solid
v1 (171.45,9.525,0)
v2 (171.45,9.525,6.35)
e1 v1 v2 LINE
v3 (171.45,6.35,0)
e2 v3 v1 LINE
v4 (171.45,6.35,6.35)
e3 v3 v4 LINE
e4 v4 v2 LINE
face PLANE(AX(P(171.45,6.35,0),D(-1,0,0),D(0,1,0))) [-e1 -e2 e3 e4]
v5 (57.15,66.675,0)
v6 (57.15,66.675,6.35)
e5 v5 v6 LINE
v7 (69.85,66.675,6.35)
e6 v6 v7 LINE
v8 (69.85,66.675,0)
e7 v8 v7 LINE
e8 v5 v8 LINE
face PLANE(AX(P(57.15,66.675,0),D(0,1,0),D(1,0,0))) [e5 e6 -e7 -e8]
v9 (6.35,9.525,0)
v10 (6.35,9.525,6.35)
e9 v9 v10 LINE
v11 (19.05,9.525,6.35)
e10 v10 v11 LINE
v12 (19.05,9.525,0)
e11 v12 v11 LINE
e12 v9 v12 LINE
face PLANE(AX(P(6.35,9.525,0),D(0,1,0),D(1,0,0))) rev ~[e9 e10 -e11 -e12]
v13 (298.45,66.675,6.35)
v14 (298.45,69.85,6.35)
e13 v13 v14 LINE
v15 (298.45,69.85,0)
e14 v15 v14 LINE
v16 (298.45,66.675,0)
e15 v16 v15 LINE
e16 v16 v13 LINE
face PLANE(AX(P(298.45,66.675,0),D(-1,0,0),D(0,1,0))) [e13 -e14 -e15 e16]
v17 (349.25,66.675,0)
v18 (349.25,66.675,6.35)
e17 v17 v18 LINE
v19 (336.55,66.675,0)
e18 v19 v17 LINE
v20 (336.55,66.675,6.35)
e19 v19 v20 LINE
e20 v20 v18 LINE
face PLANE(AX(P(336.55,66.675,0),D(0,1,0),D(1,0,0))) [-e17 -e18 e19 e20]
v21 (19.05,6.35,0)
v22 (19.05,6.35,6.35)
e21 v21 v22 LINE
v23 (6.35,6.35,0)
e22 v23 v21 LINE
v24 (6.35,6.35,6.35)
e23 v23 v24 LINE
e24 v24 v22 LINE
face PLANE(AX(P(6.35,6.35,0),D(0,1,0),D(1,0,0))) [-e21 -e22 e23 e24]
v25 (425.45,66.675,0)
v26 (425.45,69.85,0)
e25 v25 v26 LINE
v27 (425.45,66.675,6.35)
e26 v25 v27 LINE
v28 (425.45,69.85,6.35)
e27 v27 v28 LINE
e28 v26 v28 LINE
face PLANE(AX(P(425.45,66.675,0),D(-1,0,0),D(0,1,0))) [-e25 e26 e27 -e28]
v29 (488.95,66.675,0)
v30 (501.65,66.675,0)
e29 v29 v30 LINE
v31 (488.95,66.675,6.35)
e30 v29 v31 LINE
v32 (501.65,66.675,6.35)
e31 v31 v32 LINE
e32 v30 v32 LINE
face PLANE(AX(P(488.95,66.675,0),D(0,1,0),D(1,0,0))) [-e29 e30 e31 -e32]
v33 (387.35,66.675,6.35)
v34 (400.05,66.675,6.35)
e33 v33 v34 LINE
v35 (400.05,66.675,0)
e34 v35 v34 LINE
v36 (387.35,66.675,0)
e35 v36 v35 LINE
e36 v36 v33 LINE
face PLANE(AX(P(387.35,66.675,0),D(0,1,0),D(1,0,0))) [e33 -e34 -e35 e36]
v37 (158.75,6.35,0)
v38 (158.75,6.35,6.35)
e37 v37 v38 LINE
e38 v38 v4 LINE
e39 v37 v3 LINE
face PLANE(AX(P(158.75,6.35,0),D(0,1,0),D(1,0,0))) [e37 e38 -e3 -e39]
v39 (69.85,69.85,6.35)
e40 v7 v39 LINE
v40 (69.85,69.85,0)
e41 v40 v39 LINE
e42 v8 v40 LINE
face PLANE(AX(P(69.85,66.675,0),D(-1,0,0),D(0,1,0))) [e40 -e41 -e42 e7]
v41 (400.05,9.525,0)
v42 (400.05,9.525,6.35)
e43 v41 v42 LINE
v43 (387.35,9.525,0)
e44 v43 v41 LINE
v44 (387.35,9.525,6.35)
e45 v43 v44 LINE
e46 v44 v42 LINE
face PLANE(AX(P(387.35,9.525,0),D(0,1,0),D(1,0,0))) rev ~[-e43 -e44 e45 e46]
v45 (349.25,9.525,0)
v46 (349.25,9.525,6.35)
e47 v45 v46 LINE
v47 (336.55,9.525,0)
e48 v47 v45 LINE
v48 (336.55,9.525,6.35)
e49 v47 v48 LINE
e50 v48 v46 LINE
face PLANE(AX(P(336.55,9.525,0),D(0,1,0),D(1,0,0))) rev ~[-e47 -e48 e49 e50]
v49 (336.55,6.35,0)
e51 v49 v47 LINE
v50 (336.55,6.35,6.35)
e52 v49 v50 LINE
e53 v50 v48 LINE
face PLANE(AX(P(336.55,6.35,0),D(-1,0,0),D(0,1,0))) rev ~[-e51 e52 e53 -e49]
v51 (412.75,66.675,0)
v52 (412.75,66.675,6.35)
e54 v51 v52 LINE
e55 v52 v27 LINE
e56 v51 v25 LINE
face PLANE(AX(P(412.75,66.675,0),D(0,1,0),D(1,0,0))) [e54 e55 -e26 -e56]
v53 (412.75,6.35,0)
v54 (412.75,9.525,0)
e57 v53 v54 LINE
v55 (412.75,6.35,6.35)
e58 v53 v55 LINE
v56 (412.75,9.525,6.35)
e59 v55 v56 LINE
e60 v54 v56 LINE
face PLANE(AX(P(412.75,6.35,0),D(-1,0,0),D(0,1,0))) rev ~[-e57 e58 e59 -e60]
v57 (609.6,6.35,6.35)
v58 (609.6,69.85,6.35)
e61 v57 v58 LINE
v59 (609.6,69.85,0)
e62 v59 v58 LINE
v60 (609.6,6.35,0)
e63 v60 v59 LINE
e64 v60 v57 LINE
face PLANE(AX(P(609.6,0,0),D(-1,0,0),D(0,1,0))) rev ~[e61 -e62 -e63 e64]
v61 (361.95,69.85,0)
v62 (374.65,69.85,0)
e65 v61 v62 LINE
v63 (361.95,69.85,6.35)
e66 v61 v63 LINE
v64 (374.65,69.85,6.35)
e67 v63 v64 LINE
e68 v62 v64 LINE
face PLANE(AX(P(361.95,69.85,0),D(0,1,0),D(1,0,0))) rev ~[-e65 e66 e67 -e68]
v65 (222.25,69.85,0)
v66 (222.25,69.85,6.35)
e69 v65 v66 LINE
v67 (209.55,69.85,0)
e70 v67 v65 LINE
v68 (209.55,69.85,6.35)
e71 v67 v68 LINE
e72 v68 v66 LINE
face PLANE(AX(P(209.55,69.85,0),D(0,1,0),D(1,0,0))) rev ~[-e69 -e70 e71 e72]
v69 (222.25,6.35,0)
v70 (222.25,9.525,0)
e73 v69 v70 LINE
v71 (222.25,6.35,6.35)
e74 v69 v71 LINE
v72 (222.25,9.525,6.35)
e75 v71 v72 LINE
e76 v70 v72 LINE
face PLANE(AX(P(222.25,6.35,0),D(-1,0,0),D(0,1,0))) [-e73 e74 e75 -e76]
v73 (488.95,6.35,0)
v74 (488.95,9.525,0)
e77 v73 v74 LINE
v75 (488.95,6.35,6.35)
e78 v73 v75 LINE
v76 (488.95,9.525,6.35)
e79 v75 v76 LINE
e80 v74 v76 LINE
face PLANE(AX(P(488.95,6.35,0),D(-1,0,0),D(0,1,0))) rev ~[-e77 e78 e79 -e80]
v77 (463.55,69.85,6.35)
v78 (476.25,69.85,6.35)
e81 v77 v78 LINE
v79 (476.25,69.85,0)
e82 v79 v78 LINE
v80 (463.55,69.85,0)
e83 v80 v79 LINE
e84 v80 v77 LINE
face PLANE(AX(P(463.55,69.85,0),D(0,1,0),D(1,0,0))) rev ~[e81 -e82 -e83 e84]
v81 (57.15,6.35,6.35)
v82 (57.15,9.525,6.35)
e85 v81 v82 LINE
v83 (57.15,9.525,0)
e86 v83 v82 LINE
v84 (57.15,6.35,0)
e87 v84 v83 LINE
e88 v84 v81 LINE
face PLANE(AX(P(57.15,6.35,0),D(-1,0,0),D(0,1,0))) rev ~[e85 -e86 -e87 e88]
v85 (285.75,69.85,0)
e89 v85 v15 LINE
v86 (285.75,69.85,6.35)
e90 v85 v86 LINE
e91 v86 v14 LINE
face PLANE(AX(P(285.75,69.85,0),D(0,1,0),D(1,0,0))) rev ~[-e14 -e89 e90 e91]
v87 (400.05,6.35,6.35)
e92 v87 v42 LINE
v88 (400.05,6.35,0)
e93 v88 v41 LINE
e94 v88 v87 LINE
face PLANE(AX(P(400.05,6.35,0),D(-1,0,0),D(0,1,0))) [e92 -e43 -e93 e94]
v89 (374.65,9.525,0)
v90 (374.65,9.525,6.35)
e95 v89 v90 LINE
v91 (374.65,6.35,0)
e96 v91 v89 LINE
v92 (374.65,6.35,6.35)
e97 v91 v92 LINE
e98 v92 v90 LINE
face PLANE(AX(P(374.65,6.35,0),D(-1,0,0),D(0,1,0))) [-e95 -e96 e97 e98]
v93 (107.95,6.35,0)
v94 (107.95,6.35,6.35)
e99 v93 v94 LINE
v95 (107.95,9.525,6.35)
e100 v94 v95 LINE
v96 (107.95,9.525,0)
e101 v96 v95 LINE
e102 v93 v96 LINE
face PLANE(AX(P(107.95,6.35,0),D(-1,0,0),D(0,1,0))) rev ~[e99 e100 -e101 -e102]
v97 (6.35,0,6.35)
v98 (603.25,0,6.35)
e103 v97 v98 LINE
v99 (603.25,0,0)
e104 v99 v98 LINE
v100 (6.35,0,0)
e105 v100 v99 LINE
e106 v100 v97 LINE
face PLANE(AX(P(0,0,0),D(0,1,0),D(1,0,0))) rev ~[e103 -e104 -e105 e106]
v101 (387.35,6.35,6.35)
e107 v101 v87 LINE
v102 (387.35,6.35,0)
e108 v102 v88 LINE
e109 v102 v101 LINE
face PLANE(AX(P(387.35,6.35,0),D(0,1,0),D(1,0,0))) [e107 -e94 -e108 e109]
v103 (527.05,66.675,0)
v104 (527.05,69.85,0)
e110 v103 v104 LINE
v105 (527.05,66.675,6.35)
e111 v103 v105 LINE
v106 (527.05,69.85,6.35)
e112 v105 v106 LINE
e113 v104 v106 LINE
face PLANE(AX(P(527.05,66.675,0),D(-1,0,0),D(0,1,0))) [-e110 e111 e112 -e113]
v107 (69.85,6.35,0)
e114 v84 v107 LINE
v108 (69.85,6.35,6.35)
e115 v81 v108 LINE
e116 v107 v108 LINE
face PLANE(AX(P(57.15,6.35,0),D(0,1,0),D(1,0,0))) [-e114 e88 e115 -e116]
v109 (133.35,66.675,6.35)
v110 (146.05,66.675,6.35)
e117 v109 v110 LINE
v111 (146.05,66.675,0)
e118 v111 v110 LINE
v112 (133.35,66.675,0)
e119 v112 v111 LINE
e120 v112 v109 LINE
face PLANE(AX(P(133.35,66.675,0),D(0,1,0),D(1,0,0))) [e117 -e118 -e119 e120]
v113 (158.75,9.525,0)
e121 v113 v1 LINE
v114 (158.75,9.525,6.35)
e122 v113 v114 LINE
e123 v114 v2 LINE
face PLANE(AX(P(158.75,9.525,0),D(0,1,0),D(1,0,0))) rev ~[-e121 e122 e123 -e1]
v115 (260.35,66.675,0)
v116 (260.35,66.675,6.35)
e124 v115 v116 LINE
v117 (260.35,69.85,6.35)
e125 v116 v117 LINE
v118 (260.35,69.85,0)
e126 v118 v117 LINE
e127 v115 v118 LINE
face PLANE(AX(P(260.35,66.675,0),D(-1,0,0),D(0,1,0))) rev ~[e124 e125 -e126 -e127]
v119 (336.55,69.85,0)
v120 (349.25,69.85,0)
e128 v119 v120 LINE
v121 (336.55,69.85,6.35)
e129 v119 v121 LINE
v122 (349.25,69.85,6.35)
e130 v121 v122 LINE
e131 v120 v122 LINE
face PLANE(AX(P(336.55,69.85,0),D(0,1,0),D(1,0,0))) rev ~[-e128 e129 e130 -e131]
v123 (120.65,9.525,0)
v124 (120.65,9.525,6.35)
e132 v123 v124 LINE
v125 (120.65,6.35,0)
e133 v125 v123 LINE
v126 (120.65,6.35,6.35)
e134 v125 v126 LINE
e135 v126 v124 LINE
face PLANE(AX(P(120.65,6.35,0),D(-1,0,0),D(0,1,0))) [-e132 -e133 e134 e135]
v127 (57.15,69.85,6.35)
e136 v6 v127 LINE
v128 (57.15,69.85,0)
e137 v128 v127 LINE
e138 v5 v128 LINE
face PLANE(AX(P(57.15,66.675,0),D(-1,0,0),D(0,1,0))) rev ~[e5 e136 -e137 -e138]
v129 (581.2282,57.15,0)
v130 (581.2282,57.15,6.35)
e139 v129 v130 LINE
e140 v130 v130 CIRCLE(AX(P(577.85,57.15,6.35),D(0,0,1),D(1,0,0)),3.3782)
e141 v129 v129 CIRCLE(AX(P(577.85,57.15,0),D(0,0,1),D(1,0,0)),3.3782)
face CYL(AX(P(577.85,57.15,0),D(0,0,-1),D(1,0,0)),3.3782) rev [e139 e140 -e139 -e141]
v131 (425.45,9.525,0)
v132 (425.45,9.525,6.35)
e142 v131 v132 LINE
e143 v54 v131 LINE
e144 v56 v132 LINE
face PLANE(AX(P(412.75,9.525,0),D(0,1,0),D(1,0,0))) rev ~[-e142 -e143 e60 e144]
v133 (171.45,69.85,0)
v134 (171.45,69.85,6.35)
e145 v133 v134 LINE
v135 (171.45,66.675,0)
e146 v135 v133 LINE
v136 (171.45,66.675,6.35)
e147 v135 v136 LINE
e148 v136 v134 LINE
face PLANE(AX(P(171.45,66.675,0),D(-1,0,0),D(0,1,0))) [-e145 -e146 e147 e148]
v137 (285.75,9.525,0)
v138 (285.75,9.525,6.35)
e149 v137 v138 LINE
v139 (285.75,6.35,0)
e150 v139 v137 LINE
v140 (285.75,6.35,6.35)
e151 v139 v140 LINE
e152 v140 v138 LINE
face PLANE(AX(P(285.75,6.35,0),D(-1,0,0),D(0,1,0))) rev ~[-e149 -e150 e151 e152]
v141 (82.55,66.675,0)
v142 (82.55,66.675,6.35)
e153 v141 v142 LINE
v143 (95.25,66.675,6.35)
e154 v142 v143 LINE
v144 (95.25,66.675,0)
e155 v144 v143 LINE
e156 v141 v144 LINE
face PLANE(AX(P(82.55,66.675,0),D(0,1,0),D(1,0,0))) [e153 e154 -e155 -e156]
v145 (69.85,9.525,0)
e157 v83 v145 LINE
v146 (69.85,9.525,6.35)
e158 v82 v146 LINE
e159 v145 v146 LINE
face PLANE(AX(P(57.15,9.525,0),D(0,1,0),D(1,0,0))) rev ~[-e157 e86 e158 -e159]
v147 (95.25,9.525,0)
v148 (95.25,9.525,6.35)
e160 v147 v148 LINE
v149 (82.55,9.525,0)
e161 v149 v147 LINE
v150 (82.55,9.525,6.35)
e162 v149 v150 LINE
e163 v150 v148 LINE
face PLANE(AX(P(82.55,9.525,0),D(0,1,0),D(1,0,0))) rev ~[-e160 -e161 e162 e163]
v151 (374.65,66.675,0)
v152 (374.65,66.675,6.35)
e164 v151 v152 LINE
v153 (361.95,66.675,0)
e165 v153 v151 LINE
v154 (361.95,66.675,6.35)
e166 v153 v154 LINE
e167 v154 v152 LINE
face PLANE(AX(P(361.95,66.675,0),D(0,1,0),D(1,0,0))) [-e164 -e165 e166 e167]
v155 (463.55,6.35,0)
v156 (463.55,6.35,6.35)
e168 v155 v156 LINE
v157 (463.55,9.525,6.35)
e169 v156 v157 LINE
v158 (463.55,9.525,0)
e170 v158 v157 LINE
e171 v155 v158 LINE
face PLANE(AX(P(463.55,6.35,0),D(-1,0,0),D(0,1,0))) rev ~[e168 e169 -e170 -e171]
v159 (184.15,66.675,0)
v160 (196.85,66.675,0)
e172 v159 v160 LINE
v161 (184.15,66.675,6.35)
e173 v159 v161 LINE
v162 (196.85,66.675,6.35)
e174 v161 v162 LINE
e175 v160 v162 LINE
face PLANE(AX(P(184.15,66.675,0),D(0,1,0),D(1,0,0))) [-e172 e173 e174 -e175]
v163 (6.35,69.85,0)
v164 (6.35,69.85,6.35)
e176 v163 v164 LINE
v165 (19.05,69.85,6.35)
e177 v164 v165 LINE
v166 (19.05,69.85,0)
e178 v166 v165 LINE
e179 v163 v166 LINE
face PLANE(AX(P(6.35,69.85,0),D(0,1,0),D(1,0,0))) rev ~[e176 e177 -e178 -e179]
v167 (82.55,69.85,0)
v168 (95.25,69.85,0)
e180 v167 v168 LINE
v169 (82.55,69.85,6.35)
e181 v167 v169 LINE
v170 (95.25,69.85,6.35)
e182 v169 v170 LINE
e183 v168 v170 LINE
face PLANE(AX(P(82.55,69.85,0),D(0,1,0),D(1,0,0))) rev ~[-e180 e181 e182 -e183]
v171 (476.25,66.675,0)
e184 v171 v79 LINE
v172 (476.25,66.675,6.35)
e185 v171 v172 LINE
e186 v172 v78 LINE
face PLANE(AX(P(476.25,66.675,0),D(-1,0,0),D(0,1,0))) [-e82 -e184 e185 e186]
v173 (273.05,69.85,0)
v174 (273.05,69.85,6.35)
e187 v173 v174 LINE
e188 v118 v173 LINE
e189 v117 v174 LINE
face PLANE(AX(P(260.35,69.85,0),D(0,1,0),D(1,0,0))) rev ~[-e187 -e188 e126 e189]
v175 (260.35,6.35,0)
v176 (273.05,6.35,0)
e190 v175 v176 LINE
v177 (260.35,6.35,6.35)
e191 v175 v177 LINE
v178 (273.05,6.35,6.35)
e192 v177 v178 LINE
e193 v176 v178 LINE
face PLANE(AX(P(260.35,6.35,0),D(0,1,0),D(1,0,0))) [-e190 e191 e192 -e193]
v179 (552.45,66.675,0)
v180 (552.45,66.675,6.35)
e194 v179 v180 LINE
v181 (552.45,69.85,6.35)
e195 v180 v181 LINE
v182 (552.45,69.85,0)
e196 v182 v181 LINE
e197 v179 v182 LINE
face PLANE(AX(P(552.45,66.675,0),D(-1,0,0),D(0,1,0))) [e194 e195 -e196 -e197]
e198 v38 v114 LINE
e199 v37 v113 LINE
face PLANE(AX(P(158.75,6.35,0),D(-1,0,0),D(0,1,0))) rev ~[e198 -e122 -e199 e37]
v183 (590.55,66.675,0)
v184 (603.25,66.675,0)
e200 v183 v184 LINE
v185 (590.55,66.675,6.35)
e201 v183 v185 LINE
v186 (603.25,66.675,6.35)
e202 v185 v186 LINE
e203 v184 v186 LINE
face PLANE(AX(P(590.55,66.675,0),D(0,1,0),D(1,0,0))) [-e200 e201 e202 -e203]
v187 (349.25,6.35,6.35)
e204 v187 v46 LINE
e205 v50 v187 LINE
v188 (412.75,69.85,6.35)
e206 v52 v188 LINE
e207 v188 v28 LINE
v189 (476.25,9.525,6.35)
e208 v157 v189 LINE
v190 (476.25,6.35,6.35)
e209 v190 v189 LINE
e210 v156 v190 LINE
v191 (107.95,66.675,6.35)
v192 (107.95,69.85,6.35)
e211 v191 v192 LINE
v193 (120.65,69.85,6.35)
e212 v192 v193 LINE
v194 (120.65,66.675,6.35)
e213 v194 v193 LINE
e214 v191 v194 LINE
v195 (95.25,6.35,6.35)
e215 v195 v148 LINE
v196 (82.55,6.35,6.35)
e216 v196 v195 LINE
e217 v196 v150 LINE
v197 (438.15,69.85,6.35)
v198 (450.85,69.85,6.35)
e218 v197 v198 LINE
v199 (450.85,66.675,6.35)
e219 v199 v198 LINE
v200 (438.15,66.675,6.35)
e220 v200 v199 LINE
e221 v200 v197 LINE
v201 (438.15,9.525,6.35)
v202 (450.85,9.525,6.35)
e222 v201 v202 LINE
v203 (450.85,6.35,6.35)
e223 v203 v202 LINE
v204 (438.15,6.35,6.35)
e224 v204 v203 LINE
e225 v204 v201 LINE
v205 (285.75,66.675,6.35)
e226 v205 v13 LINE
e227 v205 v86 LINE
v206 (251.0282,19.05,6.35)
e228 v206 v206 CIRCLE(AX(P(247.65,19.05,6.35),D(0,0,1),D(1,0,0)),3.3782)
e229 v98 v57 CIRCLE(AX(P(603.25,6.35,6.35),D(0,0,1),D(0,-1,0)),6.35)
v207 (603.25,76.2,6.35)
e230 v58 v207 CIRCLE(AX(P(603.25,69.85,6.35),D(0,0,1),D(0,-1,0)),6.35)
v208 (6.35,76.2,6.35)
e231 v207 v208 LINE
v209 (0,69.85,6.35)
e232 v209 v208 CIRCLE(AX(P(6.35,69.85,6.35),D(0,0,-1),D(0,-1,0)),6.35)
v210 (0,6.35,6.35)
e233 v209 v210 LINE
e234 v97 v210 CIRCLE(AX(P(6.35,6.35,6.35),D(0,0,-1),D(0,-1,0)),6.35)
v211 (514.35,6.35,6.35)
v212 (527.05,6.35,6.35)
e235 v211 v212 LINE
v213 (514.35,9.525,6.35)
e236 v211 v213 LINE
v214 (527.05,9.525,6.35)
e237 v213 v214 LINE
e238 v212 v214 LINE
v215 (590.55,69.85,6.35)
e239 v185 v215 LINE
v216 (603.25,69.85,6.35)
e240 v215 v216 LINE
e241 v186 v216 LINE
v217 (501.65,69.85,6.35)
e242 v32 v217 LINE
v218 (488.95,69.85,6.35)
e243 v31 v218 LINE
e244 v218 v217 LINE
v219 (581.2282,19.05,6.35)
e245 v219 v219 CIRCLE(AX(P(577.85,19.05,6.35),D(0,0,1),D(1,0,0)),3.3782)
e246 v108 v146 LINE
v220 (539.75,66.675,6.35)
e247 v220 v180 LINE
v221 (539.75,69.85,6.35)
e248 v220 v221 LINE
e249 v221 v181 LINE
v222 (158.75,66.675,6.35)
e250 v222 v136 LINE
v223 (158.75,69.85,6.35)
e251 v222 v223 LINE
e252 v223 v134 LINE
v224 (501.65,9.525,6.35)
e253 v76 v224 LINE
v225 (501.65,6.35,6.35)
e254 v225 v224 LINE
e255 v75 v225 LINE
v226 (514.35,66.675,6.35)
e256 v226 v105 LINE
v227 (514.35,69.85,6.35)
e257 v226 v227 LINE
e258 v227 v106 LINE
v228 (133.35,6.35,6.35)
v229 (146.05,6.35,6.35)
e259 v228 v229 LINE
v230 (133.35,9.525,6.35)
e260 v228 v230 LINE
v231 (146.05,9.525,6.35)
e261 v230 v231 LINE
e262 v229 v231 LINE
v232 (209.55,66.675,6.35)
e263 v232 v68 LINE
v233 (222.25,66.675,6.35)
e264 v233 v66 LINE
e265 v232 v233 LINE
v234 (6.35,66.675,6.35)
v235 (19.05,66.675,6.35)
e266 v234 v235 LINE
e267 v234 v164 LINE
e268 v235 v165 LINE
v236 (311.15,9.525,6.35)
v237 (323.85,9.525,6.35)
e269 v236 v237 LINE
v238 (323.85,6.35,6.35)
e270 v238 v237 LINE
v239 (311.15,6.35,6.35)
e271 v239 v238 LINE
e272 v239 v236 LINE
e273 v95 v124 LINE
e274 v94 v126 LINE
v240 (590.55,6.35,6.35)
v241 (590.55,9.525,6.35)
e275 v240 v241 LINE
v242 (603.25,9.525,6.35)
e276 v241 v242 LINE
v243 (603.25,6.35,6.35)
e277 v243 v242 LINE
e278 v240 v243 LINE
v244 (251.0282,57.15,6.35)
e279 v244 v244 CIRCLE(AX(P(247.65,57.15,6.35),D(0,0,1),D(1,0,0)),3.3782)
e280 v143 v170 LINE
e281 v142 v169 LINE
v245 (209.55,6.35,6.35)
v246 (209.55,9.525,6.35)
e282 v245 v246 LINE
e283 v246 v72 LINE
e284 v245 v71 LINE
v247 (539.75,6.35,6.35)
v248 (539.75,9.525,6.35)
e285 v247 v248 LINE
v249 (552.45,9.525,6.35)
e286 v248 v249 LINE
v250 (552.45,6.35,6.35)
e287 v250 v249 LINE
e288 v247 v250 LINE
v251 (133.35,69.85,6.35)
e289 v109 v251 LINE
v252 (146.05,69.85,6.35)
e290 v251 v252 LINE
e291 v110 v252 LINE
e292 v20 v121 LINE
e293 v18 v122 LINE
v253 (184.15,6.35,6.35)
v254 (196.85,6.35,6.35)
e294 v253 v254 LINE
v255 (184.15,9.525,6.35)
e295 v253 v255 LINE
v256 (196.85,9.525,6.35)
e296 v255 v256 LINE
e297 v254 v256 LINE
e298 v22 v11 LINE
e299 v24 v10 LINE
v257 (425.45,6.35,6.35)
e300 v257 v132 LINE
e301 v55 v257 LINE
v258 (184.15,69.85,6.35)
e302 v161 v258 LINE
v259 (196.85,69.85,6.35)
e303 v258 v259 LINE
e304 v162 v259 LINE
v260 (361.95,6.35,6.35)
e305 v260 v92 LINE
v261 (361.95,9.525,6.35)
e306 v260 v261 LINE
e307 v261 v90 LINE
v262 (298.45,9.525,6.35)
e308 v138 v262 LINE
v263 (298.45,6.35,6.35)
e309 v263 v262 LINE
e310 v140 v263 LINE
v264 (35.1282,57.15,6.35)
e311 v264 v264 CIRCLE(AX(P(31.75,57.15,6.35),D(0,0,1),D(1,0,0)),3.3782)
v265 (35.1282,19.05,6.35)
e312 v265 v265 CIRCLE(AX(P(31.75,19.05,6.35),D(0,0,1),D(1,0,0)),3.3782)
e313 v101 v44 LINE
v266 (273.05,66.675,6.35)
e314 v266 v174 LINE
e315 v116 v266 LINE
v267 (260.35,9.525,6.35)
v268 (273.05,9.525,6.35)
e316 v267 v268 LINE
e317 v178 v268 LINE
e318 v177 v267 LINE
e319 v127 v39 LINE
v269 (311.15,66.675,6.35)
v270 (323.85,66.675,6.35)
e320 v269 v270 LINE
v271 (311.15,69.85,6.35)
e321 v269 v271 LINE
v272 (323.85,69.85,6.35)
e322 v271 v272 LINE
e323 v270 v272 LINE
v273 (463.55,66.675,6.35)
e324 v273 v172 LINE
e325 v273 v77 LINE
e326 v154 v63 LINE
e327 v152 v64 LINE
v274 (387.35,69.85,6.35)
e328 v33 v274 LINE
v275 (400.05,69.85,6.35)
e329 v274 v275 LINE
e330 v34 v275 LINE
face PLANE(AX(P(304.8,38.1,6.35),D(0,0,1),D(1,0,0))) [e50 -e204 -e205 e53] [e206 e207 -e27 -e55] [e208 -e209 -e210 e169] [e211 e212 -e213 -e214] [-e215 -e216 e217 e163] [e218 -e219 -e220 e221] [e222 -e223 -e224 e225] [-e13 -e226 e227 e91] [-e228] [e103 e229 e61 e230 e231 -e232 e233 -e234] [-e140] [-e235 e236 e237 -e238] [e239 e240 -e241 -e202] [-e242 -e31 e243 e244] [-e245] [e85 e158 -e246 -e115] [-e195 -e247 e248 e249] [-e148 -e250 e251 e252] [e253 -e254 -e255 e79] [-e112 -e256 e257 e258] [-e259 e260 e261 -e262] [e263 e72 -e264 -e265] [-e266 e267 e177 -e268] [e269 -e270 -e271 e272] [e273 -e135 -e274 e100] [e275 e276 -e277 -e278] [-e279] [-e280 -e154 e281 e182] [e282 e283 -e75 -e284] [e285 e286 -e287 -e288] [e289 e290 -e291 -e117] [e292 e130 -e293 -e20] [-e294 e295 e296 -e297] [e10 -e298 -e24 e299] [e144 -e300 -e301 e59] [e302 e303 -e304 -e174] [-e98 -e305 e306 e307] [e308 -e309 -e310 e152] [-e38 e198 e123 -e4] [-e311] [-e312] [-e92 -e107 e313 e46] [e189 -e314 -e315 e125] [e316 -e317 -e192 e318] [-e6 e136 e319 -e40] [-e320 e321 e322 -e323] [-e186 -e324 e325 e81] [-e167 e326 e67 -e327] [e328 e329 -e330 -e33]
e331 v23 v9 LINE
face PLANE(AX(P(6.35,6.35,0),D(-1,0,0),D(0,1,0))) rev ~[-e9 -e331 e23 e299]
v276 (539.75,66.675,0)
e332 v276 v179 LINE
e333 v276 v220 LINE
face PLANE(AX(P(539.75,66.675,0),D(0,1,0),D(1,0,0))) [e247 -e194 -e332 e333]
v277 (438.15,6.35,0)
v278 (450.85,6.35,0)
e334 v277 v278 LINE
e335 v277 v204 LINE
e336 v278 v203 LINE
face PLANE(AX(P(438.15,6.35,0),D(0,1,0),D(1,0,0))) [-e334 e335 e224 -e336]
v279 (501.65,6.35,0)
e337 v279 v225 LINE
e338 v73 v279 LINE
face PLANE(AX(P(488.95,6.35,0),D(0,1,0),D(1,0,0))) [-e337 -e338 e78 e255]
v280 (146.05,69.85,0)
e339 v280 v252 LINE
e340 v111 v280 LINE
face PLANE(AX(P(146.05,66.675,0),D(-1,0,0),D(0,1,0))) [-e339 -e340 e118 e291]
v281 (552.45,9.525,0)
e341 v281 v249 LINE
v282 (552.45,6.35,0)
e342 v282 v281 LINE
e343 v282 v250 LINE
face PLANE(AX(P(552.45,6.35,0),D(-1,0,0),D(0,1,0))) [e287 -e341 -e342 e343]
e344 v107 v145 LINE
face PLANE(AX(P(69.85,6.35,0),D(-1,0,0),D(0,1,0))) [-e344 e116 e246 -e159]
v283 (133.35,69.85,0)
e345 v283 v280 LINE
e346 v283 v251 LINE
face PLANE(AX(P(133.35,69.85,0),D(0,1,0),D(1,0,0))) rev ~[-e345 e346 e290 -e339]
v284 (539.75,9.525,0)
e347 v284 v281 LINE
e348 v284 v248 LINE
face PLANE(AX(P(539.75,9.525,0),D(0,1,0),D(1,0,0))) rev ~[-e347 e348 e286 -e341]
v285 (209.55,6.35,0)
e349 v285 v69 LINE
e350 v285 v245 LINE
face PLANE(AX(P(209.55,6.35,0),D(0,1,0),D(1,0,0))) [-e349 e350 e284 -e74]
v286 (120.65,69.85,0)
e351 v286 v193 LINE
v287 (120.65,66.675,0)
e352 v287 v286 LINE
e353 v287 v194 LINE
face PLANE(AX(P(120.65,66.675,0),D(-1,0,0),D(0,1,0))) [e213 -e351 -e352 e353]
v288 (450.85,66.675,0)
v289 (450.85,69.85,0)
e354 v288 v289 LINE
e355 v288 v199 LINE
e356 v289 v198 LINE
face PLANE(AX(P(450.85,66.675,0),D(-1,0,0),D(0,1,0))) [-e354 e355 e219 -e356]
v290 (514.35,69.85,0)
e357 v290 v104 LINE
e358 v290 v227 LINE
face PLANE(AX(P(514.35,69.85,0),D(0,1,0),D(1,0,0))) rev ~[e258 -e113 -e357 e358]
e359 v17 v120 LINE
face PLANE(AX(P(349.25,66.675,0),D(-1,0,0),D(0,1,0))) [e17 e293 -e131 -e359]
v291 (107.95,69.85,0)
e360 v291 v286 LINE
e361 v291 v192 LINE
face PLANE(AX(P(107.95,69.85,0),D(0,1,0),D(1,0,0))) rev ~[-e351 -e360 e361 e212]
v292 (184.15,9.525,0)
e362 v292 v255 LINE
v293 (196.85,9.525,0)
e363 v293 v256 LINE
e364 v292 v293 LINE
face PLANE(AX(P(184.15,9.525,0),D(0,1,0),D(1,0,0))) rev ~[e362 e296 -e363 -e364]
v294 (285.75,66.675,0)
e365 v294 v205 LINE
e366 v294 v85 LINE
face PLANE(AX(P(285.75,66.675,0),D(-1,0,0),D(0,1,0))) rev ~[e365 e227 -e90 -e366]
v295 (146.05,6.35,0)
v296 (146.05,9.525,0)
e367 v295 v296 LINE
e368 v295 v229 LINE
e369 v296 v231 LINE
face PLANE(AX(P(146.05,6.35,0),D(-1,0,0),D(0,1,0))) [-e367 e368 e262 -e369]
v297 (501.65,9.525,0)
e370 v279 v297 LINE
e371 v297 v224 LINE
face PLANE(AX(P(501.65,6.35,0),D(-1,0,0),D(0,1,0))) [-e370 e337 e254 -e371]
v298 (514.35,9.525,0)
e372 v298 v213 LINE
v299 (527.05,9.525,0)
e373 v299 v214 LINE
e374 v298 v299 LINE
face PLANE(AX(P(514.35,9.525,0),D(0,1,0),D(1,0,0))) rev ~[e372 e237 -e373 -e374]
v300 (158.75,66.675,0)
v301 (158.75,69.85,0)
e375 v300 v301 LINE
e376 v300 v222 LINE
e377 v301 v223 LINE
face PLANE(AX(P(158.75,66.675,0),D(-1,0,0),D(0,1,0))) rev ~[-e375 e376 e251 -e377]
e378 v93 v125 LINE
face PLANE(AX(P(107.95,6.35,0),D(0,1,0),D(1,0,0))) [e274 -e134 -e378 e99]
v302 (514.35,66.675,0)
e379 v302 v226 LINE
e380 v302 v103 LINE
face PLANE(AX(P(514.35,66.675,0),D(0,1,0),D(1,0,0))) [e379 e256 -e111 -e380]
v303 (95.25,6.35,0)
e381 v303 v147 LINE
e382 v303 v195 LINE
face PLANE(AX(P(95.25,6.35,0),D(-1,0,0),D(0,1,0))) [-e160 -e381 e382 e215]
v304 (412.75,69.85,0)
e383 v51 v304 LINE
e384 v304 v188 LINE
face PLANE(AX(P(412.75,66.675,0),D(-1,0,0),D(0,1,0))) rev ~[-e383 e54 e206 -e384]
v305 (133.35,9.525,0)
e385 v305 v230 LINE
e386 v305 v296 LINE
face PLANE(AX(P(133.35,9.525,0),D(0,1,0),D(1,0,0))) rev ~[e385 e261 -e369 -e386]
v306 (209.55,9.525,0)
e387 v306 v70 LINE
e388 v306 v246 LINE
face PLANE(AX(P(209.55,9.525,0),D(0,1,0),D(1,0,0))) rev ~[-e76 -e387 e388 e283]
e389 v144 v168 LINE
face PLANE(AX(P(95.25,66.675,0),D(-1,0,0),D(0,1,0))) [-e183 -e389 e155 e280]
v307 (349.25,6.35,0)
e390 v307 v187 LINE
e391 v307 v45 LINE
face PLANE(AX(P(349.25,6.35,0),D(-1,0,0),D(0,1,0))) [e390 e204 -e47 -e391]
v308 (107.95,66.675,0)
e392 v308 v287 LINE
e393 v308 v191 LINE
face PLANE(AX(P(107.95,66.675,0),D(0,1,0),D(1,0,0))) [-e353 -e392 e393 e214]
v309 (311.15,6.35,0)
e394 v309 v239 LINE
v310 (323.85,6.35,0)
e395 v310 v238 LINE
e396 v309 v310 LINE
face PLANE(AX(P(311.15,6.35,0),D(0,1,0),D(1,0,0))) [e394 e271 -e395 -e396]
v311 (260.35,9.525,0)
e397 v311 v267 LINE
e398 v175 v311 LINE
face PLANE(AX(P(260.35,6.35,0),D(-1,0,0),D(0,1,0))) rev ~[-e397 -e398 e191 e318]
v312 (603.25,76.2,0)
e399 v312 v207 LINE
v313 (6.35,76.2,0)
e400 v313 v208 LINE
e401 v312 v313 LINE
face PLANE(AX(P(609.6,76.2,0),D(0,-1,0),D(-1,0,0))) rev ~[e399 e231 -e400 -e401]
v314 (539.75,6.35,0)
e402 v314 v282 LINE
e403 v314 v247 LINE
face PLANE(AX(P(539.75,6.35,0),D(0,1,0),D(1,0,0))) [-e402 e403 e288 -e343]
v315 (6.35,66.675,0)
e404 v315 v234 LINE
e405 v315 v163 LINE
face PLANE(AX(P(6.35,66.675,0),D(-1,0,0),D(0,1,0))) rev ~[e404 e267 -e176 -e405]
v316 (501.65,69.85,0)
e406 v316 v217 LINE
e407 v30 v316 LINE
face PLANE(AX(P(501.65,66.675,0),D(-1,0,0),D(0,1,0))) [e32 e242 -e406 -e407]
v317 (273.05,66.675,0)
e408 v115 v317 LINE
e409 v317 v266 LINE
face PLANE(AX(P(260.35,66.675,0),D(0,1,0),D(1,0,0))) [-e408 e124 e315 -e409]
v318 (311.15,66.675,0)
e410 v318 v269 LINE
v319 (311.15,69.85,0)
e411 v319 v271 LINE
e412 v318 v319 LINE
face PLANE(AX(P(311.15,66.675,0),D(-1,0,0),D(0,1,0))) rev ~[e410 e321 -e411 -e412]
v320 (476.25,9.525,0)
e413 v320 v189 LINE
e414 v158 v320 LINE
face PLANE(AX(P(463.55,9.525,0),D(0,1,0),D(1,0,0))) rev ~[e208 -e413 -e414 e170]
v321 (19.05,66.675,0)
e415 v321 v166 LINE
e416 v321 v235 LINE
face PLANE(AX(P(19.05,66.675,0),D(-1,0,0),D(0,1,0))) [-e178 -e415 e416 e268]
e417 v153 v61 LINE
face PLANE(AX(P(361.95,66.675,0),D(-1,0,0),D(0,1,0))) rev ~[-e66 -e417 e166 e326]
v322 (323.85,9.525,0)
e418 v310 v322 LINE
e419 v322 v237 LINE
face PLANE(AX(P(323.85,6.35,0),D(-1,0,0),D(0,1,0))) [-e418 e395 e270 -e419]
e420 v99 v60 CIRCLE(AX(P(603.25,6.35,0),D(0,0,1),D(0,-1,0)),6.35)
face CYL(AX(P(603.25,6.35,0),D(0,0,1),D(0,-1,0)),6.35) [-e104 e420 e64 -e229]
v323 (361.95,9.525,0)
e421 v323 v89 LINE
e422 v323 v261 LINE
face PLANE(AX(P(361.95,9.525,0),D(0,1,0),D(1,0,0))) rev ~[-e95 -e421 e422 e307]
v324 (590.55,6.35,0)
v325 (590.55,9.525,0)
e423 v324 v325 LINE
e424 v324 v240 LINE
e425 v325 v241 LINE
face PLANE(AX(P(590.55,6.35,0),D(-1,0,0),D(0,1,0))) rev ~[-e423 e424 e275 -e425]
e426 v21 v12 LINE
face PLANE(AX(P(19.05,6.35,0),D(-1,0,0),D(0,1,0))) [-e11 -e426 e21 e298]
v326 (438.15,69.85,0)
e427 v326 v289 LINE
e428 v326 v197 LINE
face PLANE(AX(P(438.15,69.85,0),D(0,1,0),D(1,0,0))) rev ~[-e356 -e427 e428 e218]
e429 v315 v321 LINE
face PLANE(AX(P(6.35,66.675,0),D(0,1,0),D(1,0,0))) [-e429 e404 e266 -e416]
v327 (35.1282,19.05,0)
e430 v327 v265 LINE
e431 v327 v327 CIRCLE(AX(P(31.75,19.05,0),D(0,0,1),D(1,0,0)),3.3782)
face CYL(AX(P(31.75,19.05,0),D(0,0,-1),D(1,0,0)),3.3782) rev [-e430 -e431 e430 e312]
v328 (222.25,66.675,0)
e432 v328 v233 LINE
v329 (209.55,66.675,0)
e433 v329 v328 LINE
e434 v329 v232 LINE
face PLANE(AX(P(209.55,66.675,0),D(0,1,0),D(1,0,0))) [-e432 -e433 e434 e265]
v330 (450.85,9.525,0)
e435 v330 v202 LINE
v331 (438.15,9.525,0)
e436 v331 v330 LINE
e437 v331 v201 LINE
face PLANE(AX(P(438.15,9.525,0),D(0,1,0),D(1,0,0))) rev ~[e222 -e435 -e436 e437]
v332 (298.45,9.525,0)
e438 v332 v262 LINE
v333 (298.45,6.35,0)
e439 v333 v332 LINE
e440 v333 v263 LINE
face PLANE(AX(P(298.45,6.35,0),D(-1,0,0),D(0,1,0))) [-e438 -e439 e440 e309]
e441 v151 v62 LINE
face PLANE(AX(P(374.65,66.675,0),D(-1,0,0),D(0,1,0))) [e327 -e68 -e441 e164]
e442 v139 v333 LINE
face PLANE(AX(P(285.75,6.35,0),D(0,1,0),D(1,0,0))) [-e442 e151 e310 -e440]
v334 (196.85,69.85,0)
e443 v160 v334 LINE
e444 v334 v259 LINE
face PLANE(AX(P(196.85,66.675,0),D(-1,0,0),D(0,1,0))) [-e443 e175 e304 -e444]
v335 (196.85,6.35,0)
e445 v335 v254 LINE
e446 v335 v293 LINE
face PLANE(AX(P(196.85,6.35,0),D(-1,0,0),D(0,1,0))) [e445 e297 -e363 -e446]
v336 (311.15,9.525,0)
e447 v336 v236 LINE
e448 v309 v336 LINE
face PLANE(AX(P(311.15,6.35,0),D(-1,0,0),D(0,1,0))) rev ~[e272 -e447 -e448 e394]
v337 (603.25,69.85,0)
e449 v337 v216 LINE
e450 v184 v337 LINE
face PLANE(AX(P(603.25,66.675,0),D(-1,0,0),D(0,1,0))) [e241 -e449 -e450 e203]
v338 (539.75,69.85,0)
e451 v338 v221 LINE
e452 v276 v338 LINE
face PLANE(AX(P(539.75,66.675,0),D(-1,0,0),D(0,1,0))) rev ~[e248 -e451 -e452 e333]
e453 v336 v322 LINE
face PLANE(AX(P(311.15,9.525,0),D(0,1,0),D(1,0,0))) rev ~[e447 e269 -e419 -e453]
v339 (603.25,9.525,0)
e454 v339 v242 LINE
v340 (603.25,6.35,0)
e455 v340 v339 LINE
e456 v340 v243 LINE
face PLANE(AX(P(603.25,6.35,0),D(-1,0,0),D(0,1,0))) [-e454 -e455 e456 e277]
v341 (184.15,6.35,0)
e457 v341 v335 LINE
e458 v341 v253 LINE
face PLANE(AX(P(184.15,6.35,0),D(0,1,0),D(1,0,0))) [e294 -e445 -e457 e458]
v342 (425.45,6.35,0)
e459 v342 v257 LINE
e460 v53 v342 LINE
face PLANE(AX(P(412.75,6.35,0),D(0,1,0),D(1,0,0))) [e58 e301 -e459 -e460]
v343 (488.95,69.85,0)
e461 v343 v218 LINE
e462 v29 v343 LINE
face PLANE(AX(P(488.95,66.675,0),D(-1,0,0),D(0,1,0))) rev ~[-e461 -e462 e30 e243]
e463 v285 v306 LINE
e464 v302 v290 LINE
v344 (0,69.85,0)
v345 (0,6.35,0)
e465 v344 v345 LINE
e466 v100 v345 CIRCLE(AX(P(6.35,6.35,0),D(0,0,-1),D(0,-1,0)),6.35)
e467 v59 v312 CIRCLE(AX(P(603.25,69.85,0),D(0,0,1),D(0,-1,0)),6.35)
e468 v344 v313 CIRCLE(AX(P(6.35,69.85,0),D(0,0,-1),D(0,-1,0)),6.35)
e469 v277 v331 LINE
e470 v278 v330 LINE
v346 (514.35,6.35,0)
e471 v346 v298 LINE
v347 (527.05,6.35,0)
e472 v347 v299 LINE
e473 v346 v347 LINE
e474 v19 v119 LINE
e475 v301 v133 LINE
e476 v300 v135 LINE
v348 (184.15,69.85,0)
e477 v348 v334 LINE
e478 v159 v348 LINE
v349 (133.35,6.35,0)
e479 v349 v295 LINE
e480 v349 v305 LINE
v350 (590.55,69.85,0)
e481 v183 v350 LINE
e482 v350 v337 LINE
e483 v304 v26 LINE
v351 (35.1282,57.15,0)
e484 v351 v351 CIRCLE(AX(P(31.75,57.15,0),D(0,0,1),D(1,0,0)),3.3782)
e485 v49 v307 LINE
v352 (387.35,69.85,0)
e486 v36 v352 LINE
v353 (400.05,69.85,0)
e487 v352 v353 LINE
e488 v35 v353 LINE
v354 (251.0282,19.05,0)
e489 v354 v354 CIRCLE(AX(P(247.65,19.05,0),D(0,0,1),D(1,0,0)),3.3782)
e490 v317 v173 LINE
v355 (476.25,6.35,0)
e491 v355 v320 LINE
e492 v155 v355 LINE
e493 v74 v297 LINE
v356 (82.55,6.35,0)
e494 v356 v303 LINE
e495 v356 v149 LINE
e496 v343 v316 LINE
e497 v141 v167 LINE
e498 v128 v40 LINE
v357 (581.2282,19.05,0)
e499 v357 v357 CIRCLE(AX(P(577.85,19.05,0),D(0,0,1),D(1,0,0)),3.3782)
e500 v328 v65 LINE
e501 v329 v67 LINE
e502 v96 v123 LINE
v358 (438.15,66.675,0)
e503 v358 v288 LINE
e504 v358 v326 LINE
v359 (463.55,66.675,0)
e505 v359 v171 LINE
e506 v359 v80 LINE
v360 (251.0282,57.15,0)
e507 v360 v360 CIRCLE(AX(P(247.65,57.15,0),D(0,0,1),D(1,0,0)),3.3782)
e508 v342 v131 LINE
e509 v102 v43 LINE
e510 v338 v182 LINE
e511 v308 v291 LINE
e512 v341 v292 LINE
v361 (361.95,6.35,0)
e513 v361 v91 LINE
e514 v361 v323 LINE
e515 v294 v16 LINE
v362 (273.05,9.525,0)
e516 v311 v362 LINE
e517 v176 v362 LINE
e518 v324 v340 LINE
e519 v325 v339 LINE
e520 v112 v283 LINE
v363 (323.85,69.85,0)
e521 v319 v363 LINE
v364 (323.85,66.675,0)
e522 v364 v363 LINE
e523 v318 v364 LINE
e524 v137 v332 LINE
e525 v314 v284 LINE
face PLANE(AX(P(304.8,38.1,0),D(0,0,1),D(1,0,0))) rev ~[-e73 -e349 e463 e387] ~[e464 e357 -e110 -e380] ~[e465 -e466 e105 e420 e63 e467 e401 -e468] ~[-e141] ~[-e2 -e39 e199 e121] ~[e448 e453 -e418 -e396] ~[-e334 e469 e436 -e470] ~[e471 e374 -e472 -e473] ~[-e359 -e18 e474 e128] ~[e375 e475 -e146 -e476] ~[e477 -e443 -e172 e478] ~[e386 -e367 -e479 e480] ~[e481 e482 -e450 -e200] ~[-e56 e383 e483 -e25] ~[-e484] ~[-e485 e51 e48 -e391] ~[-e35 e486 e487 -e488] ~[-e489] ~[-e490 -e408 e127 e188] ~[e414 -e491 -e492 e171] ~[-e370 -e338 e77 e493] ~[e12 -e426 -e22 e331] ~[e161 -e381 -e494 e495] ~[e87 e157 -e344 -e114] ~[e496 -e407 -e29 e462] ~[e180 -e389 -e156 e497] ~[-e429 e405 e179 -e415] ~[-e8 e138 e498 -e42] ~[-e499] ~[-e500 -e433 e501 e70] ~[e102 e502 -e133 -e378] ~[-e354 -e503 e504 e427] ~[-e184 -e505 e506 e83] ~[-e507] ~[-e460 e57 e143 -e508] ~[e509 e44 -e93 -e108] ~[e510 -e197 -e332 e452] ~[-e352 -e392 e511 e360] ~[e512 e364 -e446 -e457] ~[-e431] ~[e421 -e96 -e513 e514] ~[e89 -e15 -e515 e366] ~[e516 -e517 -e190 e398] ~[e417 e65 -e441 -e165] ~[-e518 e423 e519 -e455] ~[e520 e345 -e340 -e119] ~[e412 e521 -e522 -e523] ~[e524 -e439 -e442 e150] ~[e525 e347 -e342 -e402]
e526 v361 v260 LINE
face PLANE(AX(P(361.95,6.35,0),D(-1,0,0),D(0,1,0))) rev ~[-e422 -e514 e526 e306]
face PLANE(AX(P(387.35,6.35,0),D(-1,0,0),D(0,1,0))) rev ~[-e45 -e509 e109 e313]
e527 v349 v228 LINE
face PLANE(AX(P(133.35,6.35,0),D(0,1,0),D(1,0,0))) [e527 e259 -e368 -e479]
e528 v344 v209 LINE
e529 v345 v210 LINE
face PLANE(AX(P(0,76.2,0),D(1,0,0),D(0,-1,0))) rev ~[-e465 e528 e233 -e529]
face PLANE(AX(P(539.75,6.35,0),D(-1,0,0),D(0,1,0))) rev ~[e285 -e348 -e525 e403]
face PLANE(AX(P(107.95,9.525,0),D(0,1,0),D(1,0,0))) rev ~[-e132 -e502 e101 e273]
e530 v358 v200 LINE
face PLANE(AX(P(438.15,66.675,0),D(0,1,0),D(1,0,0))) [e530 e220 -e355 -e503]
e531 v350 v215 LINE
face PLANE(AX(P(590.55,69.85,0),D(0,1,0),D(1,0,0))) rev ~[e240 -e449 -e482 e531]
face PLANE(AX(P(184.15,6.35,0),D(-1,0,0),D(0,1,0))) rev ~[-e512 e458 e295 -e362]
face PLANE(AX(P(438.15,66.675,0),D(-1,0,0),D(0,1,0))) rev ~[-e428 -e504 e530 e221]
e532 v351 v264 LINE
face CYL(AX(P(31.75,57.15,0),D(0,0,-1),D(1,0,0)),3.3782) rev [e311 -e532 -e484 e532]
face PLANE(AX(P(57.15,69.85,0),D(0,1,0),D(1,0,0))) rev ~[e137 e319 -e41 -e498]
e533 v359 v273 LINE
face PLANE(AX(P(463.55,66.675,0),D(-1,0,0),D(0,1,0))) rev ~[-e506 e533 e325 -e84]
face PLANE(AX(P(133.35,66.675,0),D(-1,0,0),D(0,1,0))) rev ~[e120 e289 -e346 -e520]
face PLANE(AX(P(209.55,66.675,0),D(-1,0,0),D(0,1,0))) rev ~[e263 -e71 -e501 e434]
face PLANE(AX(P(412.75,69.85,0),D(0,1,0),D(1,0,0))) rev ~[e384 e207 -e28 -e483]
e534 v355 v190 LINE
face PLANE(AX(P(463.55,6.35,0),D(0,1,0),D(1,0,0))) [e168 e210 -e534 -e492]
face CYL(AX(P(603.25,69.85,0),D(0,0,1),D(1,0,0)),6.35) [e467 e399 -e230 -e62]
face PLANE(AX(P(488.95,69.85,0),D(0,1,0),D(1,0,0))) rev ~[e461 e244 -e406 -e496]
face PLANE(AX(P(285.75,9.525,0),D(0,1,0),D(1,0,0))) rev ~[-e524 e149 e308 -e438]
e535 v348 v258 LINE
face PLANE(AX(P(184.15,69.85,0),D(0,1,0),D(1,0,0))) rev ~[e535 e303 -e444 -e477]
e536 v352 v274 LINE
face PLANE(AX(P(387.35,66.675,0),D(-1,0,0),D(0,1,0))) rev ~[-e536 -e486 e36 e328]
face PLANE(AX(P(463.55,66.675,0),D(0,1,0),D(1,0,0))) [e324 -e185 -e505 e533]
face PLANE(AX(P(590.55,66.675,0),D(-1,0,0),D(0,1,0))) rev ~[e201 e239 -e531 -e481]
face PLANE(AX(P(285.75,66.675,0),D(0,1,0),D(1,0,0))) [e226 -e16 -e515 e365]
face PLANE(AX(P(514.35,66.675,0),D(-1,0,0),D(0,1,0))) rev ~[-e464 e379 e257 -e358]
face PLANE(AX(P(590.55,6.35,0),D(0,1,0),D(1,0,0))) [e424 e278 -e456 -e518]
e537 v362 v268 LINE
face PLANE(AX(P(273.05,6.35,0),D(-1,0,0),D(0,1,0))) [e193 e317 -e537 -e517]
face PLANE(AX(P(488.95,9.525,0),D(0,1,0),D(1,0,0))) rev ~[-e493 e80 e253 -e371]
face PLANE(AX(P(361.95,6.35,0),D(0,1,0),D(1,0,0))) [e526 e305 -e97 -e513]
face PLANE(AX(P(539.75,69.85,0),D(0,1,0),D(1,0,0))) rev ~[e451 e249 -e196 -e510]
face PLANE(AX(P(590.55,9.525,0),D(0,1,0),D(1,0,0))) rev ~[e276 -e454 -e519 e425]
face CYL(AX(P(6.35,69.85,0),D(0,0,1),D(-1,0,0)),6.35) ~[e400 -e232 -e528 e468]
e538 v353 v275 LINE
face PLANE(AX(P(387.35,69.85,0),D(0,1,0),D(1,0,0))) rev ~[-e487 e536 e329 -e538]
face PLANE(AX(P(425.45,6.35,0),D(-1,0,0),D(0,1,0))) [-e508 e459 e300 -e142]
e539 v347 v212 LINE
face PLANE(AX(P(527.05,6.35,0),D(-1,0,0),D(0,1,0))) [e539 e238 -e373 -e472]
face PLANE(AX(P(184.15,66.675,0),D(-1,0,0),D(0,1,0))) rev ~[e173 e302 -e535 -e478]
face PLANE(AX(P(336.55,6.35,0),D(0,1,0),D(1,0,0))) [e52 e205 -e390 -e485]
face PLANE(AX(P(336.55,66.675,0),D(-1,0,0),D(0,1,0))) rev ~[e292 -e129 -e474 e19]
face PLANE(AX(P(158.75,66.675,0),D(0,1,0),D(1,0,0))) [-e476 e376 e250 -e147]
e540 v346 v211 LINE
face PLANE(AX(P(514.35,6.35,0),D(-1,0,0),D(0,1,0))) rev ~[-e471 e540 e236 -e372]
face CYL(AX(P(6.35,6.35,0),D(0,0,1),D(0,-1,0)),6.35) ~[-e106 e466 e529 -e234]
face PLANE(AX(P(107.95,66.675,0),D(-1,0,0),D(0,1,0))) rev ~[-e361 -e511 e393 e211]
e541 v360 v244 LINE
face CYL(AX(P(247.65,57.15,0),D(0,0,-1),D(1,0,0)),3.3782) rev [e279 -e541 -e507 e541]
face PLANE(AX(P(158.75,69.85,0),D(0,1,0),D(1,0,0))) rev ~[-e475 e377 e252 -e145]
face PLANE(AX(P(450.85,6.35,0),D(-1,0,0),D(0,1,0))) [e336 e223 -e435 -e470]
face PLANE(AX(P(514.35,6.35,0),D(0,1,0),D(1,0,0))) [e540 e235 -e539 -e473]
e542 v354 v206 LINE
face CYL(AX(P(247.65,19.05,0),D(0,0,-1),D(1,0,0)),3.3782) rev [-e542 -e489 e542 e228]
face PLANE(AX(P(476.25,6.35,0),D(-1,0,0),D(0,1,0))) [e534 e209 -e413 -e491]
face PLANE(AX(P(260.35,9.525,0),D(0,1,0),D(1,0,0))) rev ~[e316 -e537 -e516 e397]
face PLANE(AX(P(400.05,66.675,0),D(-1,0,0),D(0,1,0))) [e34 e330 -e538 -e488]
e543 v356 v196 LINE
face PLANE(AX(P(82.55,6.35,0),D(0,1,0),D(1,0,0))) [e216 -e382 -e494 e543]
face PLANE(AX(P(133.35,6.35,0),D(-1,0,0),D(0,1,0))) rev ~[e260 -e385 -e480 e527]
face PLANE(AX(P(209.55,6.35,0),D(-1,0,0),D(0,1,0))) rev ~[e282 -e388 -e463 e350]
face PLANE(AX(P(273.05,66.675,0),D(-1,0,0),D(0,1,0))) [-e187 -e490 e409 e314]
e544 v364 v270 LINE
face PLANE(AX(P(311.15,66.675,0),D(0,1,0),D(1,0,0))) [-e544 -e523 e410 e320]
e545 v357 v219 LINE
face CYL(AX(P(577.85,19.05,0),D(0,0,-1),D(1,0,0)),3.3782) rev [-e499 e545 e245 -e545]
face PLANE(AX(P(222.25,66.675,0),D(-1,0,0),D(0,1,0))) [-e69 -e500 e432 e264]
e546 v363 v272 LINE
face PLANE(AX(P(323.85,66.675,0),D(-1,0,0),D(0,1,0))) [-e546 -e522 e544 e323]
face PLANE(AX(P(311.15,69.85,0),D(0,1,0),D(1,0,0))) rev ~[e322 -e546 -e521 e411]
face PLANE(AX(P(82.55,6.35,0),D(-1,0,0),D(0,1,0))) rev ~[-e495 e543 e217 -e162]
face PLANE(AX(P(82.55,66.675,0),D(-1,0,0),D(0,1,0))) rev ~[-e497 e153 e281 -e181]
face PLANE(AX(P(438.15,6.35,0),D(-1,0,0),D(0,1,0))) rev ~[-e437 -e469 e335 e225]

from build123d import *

# Parameters (mm, degrees)
F0_W     = 12.7
F0_H     = 3.175
F0_R     = 3.3782
F1_DEPTH = 6.35
F2_R     = 6.35


with BuildPart() as f1:
    # F0 (on Top) → F1 (new body)
    with BuildSketch(Plane.XY):
        Polygon((0, 69.85), (0, 0), (609.6, 0), (609.6, 76.2), (0, 76.2), align=None)
        with Locations((12.7, 7.9375)):
            Rectangle(F0_W, F0_H, mode=Mode.SUBTRACT)
        with Locations((63.5, 7.9375)):
            Rectangle(F0_W, F0_H, mode=Mode.SUBTRACT)
        with Locations((88.9, 7.9375)):
            Rectangle(F0_W, F0_H, mode=Mode.SUBTRACT)
        with Locations((114.3, 7.9375)):
            Rectangle(F0_W, F0_H, mode=Mode.SUBTRACT)
        with Locations((139.7, 7.9375)):
            Rectangle(F0_W, F0_H, mode=Mode.SUBTRACT)
        with Locations((165.1, 7.9375)):
            Rectangle(F0_W, F0_H, mode=Mode.SUBTRACT)
        with Locations((190.5, 7.9375)):
            Rectangle(F0_W, F0_H, mode=Mode.SUBTRACT)
        with Locations((215.9, 7.9375)):
            Rectangle(F0_W, F0_H, mode=Mode.SUBTRACT)
        with Locations((266.7, 7.9375)):
            Rectangle(F0_W, F0_H, mode=Mode.SUBTRACT)
        with Locations((292.1, 7.9375)):
            Rectangle(F0_W, F0_H, mode=Mode.SUBTRACT)
        with Locations((31.75, 19.05)):
            Circle(F0_R, mode=Mode.SUBTRACT)
        with Locations((247.65, 19.05)):
            Circle(F0_R, mode=Mode.SUBTRACT)
        with Locations((317.5, 7.9375)):
            Rectangle(F0_W, F0_H, mode=Mode.SUBTRACT)
        with Locations((342.9, 7.9375)):
            Rectangle(F0_W, F0_H, mode=Mode.SUBTRACT)
        with Locations((368.3, 7.9375)):
            Rectangle(F0_W, F0_H, mode=Mode.SUBTRACT)
        with Locations((393.7, 7.9375)):
            Rectangle(F0_W, F0_H, mode=Mode.SUBTRACT)
        with Locations((419.1, 7.9375)):
            Rectangle(F0_W, F0_H, mode=Mode.SUBTRACT)
        with Locations((444.5, 7.9375)):
            Rectangle(F0_W, F0_H, mode=Mode.SUBTRACT)
        with Locations((469.9, 7.9375)):
            Rectangle(F0_W, F0_H, mode=Mode.SUBTRACT)
        with Locations((495.3, 7.9375)):
            Rectangle(F0_W, F0_H, mode=Mode.SUBTRACT)
        with Locations((520.7, 7.9375)):
            Rectangle(F0_W, F0_H, mode=Mode.SUBTRACT)
        with Locations((546.1, 7.9375)):
            Rectangle(F0_W, F0_H, mode=Mode.SUBTRACT)
        with Locations((596.9, 7.9375)):
            Rectangle(F0_W, F0_H, mode=Mode.SUBTRACT)
        with Locations((577.85, 19.05)):
            Circle(F0_R, mode=Mode.SUBTRACT)
        with Locations((31.75, 57.15)):
            Circle(F0_R, mode=Mode.SUBTRACT)
        with Locations((12.7, 68.2625)):
            Rectangle(F0_W, F0_H, mode=Mode.SUBTRACT)
        with Locations((63.5, 68.2625)):
            Rectangle(F0_W, F0_H, mode=Mode.SUBTRACT)
        with Locations((88.9, 68.2625)):
            Rectangle(F0_W, F0_H, mode=Mode.SUBTRACT)
        with Locations((114.3, 68.2625)):
            Rectangle(F0_W, F0_H, mode=Mode.SUBTRACT)
        with Locations((139.7, 68.2625)):
            Rectangle(F0_W, F0_H, mode=Mode.SUBTRACT)
        with Locations((247.65, 57.15)):
            Circle(F0_R, mode=Mode.SUBTRACT)
        with Locations((165.1, 68.2625)):
            Rectangle(F0_W, F0_H, mode=Mode.SUBTRACT)
        with Locations((190.5, 68.2625)):
            Rectangle(F0_W, F0_H, mode=Mode.SUBTRACT)
        with Locations((215.9, 68.2625)):
            Rectangle(F0_W, F0_H, mode=Mode.SUBTRACT)
        with Locations((266.7, 68.2625)):
            Rectangle(F0_W, F0_H, mode=Mode.SUBTRACT)
        with Locations((292.1, 68.2625)):
            Rectangle(F0_W, F0_H, mode=Mode.SUBTRACT)
        with Locations((317.5, 68.2625)):
            Rectangle(F0_W, F0_H, mode=Mode.SUBTRACT)
        with Locations((342.9, 68.2625)):
            Rectangle(F0_W, F0_H, mode=Mode.SUBTRACT)
        with Locations((368.3, 68.2625)):
            Rectangle(F0_W, F0_H, mode=Mode.SUBTRACT)
        with Locations((393.7, 68.2625)):
            Rectangle(F0_W, F0_H, mode=Mode.SUBTRACT)
        with Locations((419.1, 68.2625)):
            Rectangle(F0_W, F0_H, mode=Mode.SUBTRACT)
        with Locations((444.5, 68.2625)):
            Rectangle(F0_W, F0_H, mode=Mode.SUBTRACT)
        with Locations((577.85, 57.15)):
            Circle(F0_R, mode=Mode.SUBTRACT)
        with Locations((469.9, 68.2625)):
            Rectangle(F0_W, F0_H, mode=Mode.SUBTRACT)
        with Locations((495.3, 68.2625)):
            Rectangle(F0_W, F0_H, mode=Mode.SUBTRACT)
        with Locations((520.7, 68.2625)):
            Rectangle(F0_W, F0_H, mode=Mode.SUBTRACT)
        with Locations((546.1, 68.2625)):
            Rectangle(F0_W, F0_H, mode=Mode.SUBTRACT)
        with Locations((596.9, 68.2625)):
            Rectangle(F0_W, F0_H, mode=Mode.SUBTRACT)
    extrude(amount=F1_DEPTH)

    # F2
    f2_edges = [f1.edges().sort_by_distance(p)[0] for p in [
        (609.6, 76.2, 3.175),
        (609.6, 0, 3.175),
        (0, 76.2, 3.175),
        (0, 0, 3.175),
    ]]
    fillet(f2_edges, radius=F2_R)


solid = f1.part
